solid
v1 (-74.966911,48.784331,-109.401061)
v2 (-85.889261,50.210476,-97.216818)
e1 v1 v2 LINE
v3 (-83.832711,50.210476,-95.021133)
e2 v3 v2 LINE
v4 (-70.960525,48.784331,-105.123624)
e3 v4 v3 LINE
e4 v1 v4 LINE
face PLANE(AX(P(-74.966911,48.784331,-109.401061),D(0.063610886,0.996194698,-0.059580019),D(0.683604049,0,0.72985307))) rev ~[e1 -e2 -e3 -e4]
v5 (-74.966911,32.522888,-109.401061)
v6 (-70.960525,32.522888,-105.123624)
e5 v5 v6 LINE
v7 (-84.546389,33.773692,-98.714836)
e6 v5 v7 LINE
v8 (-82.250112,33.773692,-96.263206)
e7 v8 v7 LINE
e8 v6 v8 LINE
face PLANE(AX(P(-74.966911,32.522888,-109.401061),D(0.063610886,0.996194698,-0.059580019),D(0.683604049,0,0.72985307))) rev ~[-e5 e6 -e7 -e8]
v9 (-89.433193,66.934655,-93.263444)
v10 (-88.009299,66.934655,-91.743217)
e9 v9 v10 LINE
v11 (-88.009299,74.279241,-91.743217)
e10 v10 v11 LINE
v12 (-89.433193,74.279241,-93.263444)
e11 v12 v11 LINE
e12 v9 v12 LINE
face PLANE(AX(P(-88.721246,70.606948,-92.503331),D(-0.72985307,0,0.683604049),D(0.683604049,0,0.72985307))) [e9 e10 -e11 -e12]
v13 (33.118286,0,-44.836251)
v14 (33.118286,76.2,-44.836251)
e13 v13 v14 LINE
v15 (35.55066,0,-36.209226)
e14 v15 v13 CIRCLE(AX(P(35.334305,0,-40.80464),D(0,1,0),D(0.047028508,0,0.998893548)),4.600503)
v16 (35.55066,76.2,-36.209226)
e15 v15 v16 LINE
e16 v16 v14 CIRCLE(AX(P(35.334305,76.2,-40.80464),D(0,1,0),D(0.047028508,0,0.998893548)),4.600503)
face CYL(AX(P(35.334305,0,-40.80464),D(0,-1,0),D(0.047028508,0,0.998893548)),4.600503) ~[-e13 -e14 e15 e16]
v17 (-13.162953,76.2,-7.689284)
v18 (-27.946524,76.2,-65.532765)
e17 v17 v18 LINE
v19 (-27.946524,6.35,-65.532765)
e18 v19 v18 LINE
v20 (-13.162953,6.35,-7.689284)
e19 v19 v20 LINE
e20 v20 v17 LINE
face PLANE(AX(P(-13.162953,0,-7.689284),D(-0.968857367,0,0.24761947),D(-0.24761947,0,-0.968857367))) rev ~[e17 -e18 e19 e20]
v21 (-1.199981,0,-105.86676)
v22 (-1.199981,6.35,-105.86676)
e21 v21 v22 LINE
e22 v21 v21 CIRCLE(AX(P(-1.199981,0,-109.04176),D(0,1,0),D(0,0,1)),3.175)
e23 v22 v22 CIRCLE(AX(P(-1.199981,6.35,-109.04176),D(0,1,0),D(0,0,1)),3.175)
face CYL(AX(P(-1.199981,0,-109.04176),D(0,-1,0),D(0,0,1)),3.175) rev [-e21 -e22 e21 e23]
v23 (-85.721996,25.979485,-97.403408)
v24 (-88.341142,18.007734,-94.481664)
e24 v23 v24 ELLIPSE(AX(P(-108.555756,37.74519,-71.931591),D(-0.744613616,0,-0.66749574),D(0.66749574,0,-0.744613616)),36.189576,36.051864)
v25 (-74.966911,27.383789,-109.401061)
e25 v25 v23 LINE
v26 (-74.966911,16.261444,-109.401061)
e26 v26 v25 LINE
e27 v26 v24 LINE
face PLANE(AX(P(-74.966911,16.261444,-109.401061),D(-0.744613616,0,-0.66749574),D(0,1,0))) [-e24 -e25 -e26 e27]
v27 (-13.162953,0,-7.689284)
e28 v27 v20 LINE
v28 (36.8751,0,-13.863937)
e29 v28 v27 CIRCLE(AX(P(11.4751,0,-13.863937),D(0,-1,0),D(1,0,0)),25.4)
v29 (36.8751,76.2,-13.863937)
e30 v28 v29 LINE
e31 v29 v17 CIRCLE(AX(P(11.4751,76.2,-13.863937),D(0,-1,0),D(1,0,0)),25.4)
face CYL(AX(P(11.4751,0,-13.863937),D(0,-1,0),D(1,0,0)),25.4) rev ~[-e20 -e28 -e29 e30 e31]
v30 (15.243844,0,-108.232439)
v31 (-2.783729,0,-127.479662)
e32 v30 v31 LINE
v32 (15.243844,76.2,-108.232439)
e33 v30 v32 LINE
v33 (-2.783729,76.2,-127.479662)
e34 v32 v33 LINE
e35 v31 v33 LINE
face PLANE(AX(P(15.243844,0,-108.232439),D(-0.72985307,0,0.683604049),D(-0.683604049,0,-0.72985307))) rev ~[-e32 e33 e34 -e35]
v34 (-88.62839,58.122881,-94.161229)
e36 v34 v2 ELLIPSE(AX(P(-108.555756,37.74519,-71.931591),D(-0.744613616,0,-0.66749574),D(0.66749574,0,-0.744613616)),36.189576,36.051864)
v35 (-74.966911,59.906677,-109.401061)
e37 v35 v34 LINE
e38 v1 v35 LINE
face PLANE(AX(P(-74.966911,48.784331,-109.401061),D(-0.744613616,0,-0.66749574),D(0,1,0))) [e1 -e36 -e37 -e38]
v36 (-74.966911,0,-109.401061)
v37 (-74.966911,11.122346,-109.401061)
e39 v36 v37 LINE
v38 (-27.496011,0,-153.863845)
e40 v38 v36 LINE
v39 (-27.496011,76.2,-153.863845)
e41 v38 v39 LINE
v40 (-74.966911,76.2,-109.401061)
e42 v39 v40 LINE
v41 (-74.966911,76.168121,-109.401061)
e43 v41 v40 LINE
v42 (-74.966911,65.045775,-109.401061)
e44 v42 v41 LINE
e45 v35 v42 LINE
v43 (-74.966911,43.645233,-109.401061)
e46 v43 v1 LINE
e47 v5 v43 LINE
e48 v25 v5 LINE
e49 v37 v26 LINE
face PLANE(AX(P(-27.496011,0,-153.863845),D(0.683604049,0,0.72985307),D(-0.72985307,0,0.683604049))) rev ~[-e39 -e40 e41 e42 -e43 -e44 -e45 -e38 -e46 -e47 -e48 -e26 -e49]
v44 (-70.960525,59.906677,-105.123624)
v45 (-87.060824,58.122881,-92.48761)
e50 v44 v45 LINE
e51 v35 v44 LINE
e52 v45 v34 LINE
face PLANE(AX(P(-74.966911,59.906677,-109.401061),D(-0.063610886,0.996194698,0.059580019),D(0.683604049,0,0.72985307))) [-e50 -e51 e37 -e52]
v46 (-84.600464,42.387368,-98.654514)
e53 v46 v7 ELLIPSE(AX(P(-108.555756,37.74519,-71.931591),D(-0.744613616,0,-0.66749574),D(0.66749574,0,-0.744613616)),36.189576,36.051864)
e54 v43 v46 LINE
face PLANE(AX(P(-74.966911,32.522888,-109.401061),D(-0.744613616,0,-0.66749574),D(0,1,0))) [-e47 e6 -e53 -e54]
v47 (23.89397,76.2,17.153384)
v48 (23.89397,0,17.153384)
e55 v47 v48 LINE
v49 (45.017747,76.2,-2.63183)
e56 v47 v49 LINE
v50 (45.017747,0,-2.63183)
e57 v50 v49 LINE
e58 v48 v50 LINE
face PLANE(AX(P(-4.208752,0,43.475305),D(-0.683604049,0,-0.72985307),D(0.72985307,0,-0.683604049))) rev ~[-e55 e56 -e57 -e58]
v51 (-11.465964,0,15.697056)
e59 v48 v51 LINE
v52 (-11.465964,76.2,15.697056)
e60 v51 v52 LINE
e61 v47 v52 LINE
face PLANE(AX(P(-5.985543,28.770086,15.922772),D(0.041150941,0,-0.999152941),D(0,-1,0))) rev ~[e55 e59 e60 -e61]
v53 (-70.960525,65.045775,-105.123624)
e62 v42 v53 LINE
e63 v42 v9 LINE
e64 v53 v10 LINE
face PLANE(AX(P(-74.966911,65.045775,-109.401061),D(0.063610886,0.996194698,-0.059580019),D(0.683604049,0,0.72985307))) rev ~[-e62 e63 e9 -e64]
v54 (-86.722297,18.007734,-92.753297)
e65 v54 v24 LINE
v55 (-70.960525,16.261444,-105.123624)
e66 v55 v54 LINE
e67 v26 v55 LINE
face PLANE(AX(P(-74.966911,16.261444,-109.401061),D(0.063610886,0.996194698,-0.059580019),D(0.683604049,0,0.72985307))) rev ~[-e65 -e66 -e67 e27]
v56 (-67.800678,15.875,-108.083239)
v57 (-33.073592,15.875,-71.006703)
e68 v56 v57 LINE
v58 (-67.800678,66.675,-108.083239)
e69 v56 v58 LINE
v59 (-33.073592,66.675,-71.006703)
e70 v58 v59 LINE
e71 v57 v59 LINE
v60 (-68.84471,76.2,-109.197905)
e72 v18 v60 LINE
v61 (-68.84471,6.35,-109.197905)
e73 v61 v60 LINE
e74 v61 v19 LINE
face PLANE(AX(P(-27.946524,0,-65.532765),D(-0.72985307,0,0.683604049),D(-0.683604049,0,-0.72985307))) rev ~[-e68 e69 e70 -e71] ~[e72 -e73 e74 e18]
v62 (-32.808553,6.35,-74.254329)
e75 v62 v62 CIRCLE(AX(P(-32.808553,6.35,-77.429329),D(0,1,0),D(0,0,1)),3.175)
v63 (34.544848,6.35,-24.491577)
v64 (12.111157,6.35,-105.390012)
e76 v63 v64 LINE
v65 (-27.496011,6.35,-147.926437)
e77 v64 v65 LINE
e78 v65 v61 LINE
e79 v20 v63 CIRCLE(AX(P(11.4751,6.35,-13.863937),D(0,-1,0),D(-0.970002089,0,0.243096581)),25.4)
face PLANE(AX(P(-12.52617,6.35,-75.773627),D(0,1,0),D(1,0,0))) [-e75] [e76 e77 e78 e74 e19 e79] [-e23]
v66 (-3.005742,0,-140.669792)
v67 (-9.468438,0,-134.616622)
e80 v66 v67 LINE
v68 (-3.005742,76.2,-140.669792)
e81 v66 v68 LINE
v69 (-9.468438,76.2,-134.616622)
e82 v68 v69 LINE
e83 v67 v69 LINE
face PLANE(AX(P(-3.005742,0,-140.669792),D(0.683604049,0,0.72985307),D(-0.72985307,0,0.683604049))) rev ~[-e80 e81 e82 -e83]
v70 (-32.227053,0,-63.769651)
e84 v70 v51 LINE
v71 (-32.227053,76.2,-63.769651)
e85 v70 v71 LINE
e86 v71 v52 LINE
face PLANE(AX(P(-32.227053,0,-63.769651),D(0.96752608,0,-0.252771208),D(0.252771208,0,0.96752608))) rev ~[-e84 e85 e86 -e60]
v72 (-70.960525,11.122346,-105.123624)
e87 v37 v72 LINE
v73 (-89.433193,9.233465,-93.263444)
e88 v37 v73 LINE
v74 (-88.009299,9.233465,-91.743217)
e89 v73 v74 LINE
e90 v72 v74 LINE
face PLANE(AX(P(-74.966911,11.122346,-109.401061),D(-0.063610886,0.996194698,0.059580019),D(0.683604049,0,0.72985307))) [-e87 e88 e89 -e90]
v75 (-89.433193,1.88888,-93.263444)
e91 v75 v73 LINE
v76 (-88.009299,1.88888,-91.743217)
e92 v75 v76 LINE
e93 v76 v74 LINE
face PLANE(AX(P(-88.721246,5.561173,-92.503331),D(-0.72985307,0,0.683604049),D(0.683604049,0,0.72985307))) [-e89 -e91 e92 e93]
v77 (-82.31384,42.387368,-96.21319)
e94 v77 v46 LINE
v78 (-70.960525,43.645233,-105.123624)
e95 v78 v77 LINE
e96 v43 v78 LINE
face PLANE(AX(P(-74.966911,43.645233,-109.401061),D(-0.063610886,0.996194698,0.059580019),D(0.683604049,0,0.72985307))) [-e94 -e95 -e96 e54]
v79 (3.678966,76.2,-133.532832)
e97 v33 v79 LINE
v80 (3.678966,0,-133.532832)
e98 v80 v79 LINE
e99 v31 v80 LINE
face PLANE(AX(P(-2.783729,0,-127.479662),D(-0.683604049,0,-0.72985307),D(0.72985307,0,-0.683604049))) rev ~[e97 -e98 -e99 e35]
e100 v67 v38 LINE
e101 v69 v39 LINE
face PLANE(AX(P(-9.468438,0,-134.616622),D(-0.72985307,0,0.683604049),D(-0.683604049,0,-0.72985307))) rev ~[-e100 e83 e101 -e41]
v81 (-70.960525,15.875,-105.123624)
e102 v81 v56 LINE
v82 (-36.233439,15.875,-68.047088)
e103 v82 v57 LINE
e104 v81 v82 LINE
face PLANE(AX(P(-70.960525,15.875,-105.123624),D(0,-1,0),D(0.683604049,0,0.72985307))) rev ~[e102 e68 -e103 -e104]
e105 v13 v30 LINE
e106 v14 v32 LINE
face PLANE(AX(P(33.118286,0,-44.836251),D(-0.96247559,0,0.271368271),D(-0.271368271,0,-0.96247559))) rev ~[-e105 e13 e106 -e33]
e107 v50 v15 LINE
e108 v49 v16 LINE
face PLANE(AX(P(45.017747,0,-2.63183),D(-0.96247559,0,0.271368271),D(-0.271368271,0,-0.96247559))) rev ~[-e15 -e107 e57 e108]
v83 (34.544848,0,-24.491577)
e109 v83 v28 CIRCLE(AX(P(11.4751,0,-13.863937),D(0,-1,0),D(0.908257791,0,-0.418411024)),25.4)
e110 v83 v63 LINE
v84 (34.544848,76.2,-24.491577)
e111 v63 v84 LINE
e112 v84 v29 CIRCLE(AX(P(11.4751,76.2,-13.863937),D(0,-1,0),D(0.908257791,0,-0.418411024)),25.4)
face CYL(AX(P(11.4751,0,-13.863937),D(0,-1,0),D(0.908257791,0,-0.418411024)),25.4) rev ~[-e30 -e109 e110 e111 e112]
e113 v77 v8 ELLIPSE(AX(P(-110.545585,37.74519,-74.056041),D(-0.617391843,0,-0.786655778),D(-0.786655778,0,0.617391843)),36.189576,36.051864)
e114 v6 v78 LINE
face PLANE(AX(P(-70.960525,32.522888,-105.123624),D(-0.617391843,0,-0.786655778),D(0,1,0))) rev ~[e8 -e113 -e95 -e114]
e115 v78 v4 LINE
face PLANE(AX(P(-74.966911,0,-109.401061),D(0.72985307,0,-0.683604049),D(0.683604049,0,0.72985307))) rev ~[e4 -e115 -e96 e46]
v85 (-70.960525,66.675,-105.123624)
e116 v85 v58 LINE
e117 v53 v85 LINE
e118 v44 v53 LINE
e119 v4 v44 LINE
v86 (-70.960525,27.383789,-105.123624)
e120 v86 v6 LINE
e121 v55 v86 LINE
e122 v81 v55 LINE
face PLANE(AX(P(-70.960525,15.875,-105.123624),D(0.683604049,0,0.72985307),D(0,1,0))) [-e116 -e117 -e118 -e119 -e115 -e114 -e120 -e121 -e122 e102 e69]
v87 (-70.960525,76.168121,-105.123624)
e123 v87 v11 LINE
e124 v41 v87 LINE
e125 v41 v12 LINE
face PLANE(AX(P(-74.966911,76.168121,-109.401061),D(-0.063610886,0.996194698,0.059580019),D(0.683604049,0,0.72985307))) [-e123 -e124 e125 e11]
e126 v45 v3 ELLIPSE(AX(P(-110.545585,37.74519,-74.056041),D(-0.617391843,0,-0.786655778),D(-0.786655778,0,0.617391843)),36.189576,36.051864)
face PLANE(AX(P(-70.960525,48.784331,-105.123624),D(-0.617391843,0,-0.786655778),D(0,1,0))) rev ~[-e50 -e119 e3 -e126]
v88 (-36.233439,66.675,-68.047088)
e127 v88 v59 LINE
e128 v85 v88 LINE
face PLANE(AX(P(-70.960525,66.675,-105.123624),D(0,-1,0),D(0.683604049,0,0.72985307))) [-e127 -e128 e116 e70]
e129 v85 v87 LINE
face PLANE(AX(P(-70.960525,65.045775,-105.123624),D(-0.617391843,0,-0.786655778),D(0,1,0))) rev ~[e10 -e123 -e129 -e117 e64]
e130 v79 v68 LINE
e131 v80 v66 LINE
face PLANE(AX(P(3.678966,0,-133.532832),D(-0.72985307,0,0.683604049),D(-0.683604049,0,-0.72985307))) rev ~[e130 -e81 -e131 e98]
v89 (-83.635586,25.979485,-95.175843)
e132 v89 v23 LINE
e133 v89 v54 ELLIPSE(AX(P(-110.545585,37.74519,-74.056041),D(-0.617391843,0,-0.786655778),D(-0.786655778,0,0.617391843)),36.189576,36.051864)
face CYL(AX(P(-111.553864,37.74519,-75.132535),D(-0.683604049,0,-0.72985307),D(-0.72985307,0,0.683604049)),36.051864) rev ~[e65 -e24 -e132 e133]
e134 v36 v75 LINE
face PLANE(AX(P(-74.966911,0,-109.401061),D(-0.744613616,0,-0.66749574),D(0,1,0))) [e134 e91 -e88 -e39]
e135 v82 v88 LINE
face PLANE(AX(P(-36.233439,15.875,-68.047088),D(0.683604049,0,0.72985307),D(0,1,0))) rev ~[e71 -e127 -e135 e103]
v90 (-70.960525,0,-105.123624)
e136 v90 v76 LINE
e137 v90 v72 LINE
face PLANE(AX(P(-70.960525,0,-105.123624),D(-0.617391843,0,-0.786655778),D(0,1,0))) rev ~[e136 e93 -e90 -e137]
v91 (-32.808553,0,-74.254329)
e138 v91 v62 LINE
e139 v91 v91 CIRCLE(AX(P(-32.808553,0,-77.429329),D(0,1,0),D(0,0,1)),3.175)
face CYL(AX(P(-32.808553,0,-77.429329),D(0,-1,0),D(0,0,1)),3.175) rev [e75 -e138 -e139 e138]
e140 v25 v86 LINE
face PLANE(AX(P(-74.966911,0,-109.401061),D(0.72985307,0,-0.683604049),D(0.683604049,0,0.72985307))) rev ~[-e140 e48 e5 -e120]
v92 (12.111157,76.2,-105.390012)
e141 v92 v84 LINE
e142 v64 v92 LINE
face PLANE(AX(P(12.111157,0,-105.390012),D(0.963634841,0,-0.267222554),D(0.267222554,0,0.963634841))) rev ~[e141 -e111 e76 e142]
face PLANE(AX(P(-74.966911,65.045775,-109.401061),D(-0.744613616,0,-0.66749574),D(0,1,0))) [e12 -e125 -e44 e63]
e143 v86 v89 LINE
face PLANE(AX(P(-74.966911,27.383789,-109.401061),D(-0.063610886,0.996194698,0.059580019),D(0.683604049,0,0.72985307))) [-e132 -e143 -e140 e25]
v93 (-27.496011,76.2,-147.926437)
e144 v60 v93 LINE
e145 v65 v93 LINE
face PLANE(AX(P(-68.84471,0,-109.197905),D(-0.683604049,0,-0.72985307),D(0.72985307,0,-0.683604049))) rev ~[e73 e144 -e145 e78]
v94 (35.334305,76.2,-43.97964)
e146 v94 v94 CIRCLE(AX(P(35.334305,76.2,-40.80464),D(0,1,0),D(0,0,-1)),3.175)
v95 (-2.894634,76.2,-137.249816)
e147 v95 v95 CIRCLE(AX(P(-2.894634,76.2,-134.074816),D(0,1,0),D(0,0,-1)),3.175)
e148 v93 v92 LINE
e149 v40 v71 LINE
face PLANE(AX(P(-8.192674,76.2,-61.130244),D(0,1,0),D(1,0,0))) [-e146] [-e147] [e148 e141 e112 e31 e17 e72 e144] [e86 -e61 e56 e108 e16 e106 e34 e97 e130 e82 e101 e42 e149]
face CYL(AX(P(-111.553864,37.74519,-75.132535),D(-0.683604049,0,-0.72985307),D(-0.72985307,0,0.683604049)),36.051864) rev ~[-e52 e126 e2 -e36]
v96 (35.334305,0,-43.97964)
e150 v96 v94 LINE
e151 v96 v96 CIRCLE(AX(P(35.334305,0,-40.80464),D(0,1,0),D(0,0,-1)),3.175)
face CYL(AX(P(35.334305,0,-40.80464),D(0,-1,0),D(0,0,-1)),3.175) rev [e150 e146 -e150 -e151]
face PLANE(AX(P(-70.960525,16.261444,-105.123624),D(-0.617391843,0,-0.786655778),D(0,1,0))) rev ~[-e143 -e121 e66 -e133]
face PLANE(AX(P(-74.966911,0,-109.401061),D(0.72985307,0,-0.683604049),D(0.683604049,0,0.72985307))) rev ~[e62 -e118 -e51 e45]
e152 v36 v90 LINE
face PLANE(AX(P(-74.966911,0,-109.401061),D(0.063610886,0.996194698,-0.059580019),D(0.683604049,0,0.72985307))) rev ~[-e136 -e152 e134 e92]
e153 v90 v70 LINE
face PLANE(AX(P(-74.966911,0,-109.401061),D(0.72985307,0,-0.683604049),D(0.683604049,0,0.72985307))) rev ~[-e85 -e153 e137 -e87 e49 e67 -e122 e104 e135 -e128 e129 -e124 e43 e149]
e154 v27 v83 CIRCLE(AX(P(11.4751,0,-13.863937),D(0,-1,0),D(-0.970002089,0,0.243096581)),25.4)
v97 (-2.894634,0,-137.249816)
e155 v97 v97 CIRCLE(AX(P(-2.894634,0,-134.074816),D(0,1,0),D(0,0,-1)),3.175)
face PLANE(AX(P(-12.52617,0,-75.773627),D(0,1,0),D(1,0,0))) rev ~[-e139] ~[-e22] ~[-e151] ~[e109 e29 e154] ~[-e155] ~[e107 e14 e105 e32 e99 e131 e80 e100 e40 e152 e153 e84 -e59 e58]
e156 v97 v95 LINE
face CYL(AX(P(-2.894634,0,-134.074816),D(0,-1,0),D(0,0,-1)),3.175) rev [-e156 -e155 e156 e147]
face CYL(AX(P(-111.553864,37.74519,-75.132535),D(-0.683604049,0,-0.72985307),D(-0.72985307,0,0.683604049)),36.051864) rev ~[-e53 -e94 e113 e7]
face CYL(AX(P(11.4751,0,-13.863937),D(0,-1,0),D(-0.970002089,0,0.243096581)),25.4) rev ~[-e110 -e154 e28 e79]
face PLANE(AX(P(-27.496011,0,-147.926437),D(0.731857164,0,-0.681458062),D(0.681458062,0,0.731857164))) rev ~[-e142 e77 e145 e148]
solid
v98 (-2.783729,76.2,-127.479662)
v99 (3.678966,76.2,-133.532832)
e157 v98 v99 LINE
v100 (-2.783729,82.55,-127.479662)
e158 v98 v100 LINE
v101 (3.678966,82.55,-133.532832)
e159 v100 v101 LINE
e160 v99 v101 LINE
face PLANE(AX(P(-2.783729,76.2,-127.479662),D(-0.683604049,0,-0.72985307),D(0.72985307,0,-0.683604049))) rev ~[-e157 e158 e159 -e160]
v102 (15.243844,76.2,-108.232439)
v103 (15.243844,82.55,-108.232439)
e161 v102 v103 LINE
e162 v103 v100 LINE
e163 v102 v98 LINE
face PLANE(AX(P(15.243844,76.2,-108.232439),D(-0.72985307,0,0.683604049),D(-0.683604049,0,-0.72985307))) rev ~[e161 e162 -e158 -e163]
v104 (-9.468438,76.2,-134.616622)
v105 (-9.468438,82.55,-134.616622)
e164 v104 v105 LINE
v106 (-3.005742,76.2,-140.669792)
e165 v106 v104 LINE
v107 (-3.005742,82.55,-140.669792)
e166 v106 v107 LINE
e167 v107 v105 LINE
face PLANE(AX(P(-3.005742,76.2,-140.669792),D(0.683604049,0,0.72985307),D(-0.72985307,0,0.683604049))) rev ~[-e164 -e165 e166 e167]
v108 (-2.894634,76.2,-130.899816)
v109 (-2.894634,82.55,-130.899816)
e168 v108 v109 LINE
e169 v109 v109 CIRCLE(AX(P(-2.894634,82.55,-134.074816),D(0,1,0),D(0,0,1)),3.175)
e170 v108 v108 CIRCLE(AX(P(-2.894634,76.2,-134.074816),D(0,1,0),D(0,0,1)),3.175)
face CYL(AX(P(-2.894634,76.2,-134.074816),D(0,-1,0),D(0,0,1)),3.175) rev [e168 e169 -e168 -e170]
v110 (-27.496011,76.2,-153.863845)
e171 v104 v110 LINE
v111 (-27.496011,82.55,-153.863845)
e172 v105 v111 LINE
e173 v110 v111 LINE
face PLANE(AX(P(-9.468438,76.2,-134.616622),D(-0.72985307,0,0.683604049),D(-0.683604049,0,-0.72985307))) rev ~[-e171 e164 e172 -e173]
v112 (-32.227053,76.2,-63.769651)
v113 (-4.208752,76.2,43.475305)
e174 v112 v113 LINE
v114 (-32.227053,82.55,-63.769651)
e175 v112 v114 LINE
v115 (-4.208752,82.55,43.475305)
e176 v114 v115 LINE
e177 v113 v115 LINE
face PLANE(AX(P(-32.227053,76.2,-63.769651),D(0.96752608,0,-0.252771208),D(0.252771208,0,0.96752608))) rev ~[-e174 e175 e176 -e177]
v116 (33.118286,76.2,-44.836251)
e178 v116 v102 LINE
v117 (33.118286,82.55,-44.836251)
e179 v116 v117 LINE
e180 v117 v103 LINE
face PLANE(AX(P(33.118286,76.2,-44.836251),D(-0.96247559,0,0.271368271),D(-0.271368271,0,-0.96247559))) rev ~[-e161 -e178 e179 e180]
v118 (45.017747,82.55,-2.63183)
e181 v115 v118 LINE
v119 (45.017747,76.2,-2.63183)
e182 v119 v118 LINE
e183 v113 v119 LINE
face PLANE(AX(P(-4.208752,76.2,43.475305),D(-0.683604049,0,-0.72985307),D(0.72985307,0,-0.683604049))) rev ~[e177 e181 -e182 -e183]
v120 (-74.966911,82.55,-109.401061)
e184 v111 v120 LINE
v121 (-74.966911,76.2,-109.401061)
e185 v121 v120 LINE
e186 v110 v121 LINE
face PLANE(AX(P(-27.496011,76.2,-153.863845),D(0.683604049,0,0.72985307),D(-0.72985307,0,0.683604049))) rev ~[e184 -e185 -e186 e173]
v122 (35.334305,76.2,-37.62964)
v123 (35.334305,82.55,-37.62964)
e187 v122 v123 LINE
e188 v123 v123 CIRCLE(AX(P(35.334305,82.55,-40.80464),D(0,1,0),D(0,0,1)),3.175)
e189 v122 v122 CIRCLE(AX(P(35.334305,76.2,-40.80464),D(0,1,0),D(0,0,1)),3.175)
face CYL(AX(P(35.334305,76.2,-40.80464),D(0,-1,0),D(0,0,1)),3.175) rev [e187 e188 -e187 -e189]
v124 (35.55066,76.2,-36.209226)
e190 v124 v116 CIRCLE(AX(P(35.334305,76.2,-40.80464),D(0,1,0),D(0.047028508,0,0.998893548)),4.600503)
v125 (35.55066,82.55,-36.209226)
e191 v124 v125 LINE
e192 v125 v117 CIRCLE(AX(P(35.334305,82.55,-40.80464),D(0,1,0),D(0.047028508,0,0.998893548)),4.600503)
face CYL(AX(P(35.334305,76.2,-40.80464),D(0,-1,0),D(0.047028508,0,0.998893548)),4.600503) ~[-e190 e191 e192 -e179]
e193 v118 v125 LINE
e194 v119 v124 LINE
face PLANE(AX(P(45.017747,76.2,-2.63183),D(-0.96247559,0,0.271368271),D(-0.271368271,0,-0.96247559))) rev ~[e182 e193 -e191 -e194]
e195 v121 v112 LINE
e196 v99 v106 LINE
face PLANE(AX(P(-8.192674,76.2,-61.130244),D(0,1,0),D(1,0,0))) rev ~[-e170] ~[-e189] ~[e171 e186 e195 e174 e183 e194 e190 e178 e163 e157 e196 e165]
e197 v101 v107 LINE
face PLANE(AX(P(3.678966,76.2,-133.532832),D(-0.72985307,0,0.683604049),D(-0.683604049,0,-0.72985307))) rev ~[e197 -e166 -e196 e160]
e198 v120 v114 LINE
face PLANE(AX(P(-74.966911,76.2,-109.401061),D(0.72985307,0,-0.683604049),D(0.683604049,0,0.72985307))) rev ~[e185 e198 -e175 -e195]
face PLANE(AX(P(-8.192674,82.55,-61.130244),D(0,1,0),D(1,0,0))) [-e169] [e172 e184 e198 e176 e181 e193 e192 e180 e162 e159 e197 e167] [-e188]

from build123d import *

# Parameters (mm, degrees)
SKETCH1_R                     = 3.175
BOSS_EXTRUDE2_DEPTH           = 76.2
SKETCH1_5_R                   = 3.175
BOSS_EXTRUDE3_DEPTH           = 6.35
SKETCH5_R                     = 3.175
BOSS_EXTRUDE4_DEPTH           = 6.35
SKETCH6_W                     = 50.8
SKETCH6_H                     = 50.8
CUT_EXTRUDE1_DEPTH            = 21.59
SKETCH7_W                     = 5.86068256
SKETCH7_H                     = 11.122345704
BOSS_EXTRUDE5_DEPTH           = 21.59
BOSS_EXTRUDE5_DRAFT           = 5
BOSS_EXTRUDE5_PROFILE_2_DEPTH = 21.59
BOSS_EXTRUDE5_PROFILE_2_DRAFT = 5
BOSS_EXTRUDE5_PROFILE_3_DEPTH = 21.59
BOSS_EXTRUDE5_PROFILE_3_DRAFT = 5
SKETCH7_H_2                   = 11.122345705
BOSS_EXTRUDE5_PROFILE_4_DEPTH = 21.59
BOSS_EXTRUDE5_PROFILE_4_DRAFT = 5
BOSS_EXTRUDE5_PROFILE_5_DEPTH = 21.59
BOSS_EXTRUDE5_PROFILE_5_DRAFT = 5
SKETCH10_R                    = 36.051864109
CUT_EXTRUDE2_DEPTH            = 21.59
CUT_EXTRUDE3_START            = -5.08
SKETCH11_W                    = 102.376221927
SKETCH11_H                    = 148.639543751
CUT_EXTRUDE3_DEPTH            = 33.02


with BuildPart() as part:
    # Sketch1 → Boss-Extrude2 (new body)
    with BuildSketch(Plane(origin=(0, 0, 0), x_dir=(1, 0, 0), z_dir=(0, 1, 0))):
        with BuildLine():
            Line((-4.208751998, -43.475305064), (45.017746951, 2.631829887))
            Line((45.017746951, 2.631829887), (35.550660053, 36.209226482))
            ThreePointArc((35.550660053, 36.209226482), (39.762177432, 42.05307025), (33.11828595, 44.83625091))
            Line((33.11828595, 44.83625091), (15.243844224, 108.232438689))
            Line((15.243844224, 108.232438689), (-2.783728935, 127.479661752))
            Line((-2.783728935, 127.479661752), (3.678966496, 133.532831827))
            Line((3.678966496, 133.532831827), (-3.005742225, 140.669792455))
            Line((-3.005742225, 140.669792455), (-9.468437655, 134.61662238))
            Line((-9.468437655, 134.61662238), (-27.496010814, 153.863845442))
            Line((-27.496010814, 153.863845442), (-74.966911398, 109.401060841))
            Line((-74.966911398, 109.401060841), (-32.227053049, 63.769650553))
            Line((-32.227053049, 63.769650553), (-4.208751998, -43.475305064))
        make_face()
        with Locations((35.334305242, 40.804639607)):
            Circle(SKETCH1_R, mode=Mode.SUBTRACT)
        with BuildLine():
            Line((-27.946524097, 65.532765046), (-68.844709626, 109.197904706))
            Line((-68.844709626, 109.197904706), (-27.496010814, 147.926436632))
            Line((-27.496010814, 147.926436632), (12.111157264, 105.390011693))
            Line((12.111157264, 105.390011693), (34.544848217, 24.491577435))
            ThreePointArc((34.544848217, 24.491577435), (36.285698832, 19.303992732), (36.875100326, 13.863937421))
            ThreePointArc((36.875100326, 13.863937421), (14.585843996, -11.34485616), (-13.162952731, 7.689284266))
            Line((-13.162952731, 7.689284266), (-27.946524097, 65.532765046))
        make_face(mode=Mode.SUBTRACT)
        with Locations((-2.894634056, 134.074815557)):
            Circle(SKETCH1_R, mode=Mode.SUBTRACT)
    extrude(amount=BOSS_EXTRUDE2_DEPTH)

    # Sketch1<5> → Boss-Extrude3 (add)
    with BuildSketch(Plane(origin=(0, 0, 0), x_dir=(1, 0, 0), z_dir=(0, 1, 0))):
        with BuildLine():
            Line((-27.496010814, 147.926436632), (-68.844709626, 109.197904706))
            Line((-68.844709626, 109.197904706), (-27.946524097, 65.532765046))
            Line((-27.946524097, 65.532765046), (-13.162952731, 7.689284266))
            ThreePointArc((-13.162952731, 7.689284266), (3.03743719, 37.821521623), (34.544848217, 24.491577435))
            Line((34.544848217, 24.491577435), (12.111157264, 105.390011693))
            Line((12.111157264, 105.390011693), (-27.496010814, 147.926436632))
        make_face()
        with Locations((-32.808552916, 77.429328599)):
            Circle(SKETCH1_5_R, mode=Mode.SUBTRACT)
        with Locations((-1.199981142, 109.041759799)):
            Circle(SKETCH1_5_R, mode=Mode.SUBTRACT)
    extrude(amount=BOSS_EXTRUDE3_DEPTH)

    # Sketch6 → Cut-Extrude1 (cut)
    with BuildSketch(Plane(origin=(14.64974053, 0, -13.721421958), x_dir=(0.683604049055853, 0, 0.729853070223345), z_dir=(-0.729853070223345, 0, 0.683604049055853))):
        with Locations((-99.833701757, 41.275)):
            Rectangle(SKETCH6_W, SKETCH6_H)
    extrude(amount=-CUT_EXTRUDE1_DEPTH, mode=Mode.SUBTRACT)


with BuildPart() as body_2:
    # Sketch5 → Boss-Extrude4 (new body)
    with BuildSketch(Plane(origin=(0, 76.2, 0), x_dir=(1, 0, 0), z_dir=(0, 1, 0))):
        with BuildLine():
            Line((45.017746951, 2.631829887), (35.550660053, 36.209226482))
            ThreePointArc((35.550660053, 36.209226482), (39.762177432, 42.05307025), (33.11828595, 44.83625091))
            Line((33.11828595, 44.83625091), (15.243844224, 108.232438689))
            Line((15.243844224, 108.232438689), (-2.783728935, 127.479661752))
            Line((-2.783728935, 127.479661752), (3.678966496, 133.532831827))
            Line((3.678966496, 133.532831827), (-3.005742225, 140.669792455))
            Line((-3.005742225, 140.669792455), (-9.468437655, 134.61662238))
            Line((-9.468437655, 134.61662238), (-27.496010814, 153.863845442))
            Line((-27.496010814, 153.863845442), (-74.966911398, 109.401060841))
            Line((-74.966911398, 109.401060841), (-32.227053049, 63.769650553))
            Line((-32.227053049, 63.769650553), (-4.208751998, -43.475305064))
            Line((-4.208751998, -43.475305064), (45.017746951, 2.631829887))
        make_face()
        with Locations((-2.894634056, 134.074815557)):
            Circle(SKETCH5_R, mode=Mode.SUBTRACT)
        with Locations((35.334305242, 40.804639607)):
            Circle(SKETCH5_R, mode=Mode.SUBTRACT)
    extrude(amount=BOSS_EXTRUDE4_DEPTH)


with BuildPart() as boss_extrude5_tool:
    # Sketch7 → Boss-Extrude5 (with draft: the straight prism first)
    with BuildSketch(Plane(origin=(14.64974053, 0, -13.721421958), x_dir=(0.683604049055853, 0, 0.729853070223345), z_dir=(-0.729853070223345, 0, 0.683604049055853))):
        with Locations((-128.164043037, 70.606947953)):
            Rectangle(SKETCH7_W, SKETCH7_H)
    extrude(amount=BOSS_EXTRUDE5_DEPTH)
    # Boss-Extrude5: the draft: its side faces are tilted about the plane it starts from
    boss_extrude5_sides = [boss_extrude5_tool.faces().sort_by_distance(p)[0] for p in [
        (-82.845675291, 70.606947953, -102.021555132),
        (-80.842482126, 65.045775101, -99.882836552),
        (-78.839288962, 70.606947953, -97.744117972),
        (-80.842482126, 76.168120805, -99.882836552),
    ]]
    draft(boss_extrude5_sides, Plane(origin=(14.64974053, 0, -13.721421958), x_dir=(0.683604049055853, 0, 0.729853070223345), z_dir=(-0.729853070223345, 0, 0.683604049055853)), BOSS_EXTRUDE5_DRAFT)


with BuildPart() as part_1:
    add(part.part)

    # Boss-Extrude5: add boss_extrude5_tool
    add(boss_extrude5_tool.part)


with BuildPart() as boss_extrude5_profile_2_tool:
    # Sketch7 → Boss-Extrude5 profile 2 (with draft: the straight prism first)
    with BuildSketch(Plane(origin=(14.64974053, 0, -13.721421958), x_dir=(0.683604049055853, 0, 0.729853070223345), z_dir=(-0.729853070223345, 0, 0.683604049055853))):
        with Locations((-128.164043037, 54.345504178)):
            Rectangle(SKETCH7_W, SKETCH7_H)
    extrude(amount=BOSS_EXTRUDE5_PROFILE_2_DEPTH)
    # Boss-Extrude5 profile 2: the draft: its side faces are tilted about the plane it starts from
    boss_extrude5_profile_2_sides = [boss_extrude5_profile_2_tool.faces().sort_by_distance(p)[0] for p in [
        (-80.842482126, 48.784331326, -99.882836552),
        (-78.839288962, 54.345504178, -97.744117972),
        (-80.842482126, 59.90667703, -99.882836552),
        (-82.845675291, 54.345504178, -102.021555132),
    ]]
    draft(boss_extrude5_profile_2_sides, Plane(origin=(14.64974053, 0, -13.721421958), x_dir=(0.683604049055853, 0, 0.729853070223345), z_dir=(-0.729853070223345, 0, 0.683604049055853)), BOSS_EXTRUDE5_PROFILE_2_DRAFT)


with BuildPart() as part_2:
    add(part_1.part)

    # Boss-Extrude5 profile 2: add boss_extrude5_profile_2_tool
    add(boss_extrude5_profile_2_tool.part)


with BuildPart() as boss_extrude5_profile_3_tool:
    # Sketch7 → Boss-Extrude5 profile 3 (with draft: the straight prism first)
    with BuildSketch(Plane(origin=(14.64974053, 0, -13.721421958), x_dir=(0.683604049055853, 0, 0.729853070223345), z_dir=(-0.729853070223345, 0, 0.683604049055853))):
        with Locations((-128.164043037, 38.084060403)):
            Rectangle(SKETCH7_W, SKETCH7_H)
    extrude(amount=BOSS_EXTRUDE5_PROFILE_3_DEPTH)
    # Boss-Extrude5 profile 3: the draft: its side faces are tilted about the plane it starts from
    boss_extrude5_profile_3_sides = [boss_extrude5_profile_3_tool.faces().sort_by_distance(p)[0] for p in [
        (-80.842482126, 32.522887551, -99.882836552),
        (-78.839288962, 38.084060403, -97.744117972),
        (-80.842482126, 43.645233255, -99.882836552),
        (-82.845675291, 38.084060403, -102.021555132),
    ]]
    draft(boss_extrude5_profile_3_sides, Plane(origin=(14.64974053, 0, -13.721421958), x_dir=(0.683604049055853, 0, 0.729853070223345), z_dir=(-0.729853070223345, 0, 0.683604049055853)), BOSS_EXTRUDE5_PROFILE_3_DRAFT)


with BuildPart() as part_3:
    add(part_2.part)

    # Boss-Extrude5 profile 3: add boss_extrude5_profile_3_tool
    add(boss_extrude5_profile_3_tool.part)


with BuildPart() as boss_extrude5_profile_4_tool:
    # Sketch7 → Boss-Extrude5 profile 4 (with draft: the straight prism first)
    with BuildSketch(Plane(origin=(14.64974053, 0, -13.721421958), x_dir=(0.683604049055853, 0, 0.729853070223345), z_dir=(-0.729853070223345, 0, 0.683604049055853))):
        with Locations((-128.164043037, 21.822616628)):
            Rectangle(SKETCH7_W, SKETCH7_H_2)
    extrude(amount=BOSS_EXTRUDE5_PROFILE_4_DEPTH)
    # Boss-Extrude5 profile 4: the draft: its side faces are tilted about the plane it starts from
    boss_extrude5_profile_4_sides = [boss_extrude5_profile_4_tool.faces().sort_by_distance(p)[0] for p in [
        (-80.842482126, 16.261443775, -99.882836552),
        (-78.839288962, 21.822616627, -97.744117972),
        (-80.842482126, 27.38378948, -99.882836552),
        (-82.845675291, 21.822616627, -102.021555132),
    ]]
    draft(boss_extrude5_profile_4_sides, Plane(origin=(14.64974053, 0, -13.721421958), x_dir=(0.683604049055853, 0, 0.729853070223345), z_dir=(-0.729853070223345, 0, 0.683604049055853)), BOSS_EXTRUDE5_PROFILE_4_DRAFT)


with BuildPart() as part_4:
    add(part_3.part)

    # Boss-Extrude5 profile 4: add boss_extrude5_profile_4_tool
    add(boss_extrude5_profile_4_tool.part)


with BuildPart() as boss_extrude5_profile_5_tool:
    # Sketch7 → Boss-Extrude5 profile 5 (with draft: the straight prism first)
    with BuildSketch(Plane(origin=(14.64974053, 0, -13.721421958), x_dir=(0.683604049055853, 0, 0.729853070223345), z_dir=(-0.729853070223345, 0, 0.683604049055853))):
        with Locations((-128.164043037, 5.561172852)):
            Rectangle(SKETCH7_W, SKETCH7_H)
    extrude(amount=BOSS_EXTRUDE5_PROFILE_5_DEPTH)
    # Boss-Extrude5 profile 5: the draft: its side faces are tilted about the plane it starts from
    boss_extrude5_profile_5_sides = [boss_extrude5_profile_5_tool.faces().sort_by_distance(p)[0] for p in [
        (-80.842482126, 0, -99.882836552),
        (-78.839288962, 5.561172852, -97.744117972),
        (-80.842482126, 11.122345704, -99.882836552),
        (-82.845675291, 5.561172852, -102.021555132),
    ]]
    draft(boss_extrude5_profile_5_sides, Plane(origin=(14.64974053, 0, -13.721421958), x_dir=(0.683604049055853, 0, 0.729853070223345), z_dir=(-0.729853070223345, 0, 0.683604049055853)), BOSS_EXTRUDE5_PROFILE_5_DRAFT)


with BuildPart() as part_5:
    add(part_4.part)

    # Boss-Extrude5 profile 5: add boss_extrude5_profile_5_tool
    add(boss_extrude5_profile_5_tool.part)

    # Sketch10 → Cut-Extrude2 (cut)
    with BuildSketch(Plane(origin=(-89.616651928, 0, -95.679638883), x_dir=(-0.7298530702233451, 0, 0.683604049055853), z_dir=(-0.683604049055853, 0, -0.7298530702233451))):
        with Locations((30.057024975, 37.74518963)):
            Circle(SKETCH10_R)
    extrude(amount=-CUT_EXTRUDE2_DEPTH, mode=Mode.SUBTRACT)

    # Sketch11 → Cut-Extrude3 (cut)
    with BuildSketch(Plane(origin=(-0.455771155, 0, 11.066213292), x_dir=(0, -1, 0), z_dir=(0.04115094100910027, 0, -0.9991529412727892)).offset(CUT_EXTRUDE3_START)):
        with Locations((-28.770085538, 5.325235466)):
            Rectangle(SKETCH11_W, SKETCH11_H)
    extrude(amount=-CUT_EXTRUDE3_DEPTH, mode=Mode.SUBTRACT)


solid = Compound([body_2.part, part_5.part])
